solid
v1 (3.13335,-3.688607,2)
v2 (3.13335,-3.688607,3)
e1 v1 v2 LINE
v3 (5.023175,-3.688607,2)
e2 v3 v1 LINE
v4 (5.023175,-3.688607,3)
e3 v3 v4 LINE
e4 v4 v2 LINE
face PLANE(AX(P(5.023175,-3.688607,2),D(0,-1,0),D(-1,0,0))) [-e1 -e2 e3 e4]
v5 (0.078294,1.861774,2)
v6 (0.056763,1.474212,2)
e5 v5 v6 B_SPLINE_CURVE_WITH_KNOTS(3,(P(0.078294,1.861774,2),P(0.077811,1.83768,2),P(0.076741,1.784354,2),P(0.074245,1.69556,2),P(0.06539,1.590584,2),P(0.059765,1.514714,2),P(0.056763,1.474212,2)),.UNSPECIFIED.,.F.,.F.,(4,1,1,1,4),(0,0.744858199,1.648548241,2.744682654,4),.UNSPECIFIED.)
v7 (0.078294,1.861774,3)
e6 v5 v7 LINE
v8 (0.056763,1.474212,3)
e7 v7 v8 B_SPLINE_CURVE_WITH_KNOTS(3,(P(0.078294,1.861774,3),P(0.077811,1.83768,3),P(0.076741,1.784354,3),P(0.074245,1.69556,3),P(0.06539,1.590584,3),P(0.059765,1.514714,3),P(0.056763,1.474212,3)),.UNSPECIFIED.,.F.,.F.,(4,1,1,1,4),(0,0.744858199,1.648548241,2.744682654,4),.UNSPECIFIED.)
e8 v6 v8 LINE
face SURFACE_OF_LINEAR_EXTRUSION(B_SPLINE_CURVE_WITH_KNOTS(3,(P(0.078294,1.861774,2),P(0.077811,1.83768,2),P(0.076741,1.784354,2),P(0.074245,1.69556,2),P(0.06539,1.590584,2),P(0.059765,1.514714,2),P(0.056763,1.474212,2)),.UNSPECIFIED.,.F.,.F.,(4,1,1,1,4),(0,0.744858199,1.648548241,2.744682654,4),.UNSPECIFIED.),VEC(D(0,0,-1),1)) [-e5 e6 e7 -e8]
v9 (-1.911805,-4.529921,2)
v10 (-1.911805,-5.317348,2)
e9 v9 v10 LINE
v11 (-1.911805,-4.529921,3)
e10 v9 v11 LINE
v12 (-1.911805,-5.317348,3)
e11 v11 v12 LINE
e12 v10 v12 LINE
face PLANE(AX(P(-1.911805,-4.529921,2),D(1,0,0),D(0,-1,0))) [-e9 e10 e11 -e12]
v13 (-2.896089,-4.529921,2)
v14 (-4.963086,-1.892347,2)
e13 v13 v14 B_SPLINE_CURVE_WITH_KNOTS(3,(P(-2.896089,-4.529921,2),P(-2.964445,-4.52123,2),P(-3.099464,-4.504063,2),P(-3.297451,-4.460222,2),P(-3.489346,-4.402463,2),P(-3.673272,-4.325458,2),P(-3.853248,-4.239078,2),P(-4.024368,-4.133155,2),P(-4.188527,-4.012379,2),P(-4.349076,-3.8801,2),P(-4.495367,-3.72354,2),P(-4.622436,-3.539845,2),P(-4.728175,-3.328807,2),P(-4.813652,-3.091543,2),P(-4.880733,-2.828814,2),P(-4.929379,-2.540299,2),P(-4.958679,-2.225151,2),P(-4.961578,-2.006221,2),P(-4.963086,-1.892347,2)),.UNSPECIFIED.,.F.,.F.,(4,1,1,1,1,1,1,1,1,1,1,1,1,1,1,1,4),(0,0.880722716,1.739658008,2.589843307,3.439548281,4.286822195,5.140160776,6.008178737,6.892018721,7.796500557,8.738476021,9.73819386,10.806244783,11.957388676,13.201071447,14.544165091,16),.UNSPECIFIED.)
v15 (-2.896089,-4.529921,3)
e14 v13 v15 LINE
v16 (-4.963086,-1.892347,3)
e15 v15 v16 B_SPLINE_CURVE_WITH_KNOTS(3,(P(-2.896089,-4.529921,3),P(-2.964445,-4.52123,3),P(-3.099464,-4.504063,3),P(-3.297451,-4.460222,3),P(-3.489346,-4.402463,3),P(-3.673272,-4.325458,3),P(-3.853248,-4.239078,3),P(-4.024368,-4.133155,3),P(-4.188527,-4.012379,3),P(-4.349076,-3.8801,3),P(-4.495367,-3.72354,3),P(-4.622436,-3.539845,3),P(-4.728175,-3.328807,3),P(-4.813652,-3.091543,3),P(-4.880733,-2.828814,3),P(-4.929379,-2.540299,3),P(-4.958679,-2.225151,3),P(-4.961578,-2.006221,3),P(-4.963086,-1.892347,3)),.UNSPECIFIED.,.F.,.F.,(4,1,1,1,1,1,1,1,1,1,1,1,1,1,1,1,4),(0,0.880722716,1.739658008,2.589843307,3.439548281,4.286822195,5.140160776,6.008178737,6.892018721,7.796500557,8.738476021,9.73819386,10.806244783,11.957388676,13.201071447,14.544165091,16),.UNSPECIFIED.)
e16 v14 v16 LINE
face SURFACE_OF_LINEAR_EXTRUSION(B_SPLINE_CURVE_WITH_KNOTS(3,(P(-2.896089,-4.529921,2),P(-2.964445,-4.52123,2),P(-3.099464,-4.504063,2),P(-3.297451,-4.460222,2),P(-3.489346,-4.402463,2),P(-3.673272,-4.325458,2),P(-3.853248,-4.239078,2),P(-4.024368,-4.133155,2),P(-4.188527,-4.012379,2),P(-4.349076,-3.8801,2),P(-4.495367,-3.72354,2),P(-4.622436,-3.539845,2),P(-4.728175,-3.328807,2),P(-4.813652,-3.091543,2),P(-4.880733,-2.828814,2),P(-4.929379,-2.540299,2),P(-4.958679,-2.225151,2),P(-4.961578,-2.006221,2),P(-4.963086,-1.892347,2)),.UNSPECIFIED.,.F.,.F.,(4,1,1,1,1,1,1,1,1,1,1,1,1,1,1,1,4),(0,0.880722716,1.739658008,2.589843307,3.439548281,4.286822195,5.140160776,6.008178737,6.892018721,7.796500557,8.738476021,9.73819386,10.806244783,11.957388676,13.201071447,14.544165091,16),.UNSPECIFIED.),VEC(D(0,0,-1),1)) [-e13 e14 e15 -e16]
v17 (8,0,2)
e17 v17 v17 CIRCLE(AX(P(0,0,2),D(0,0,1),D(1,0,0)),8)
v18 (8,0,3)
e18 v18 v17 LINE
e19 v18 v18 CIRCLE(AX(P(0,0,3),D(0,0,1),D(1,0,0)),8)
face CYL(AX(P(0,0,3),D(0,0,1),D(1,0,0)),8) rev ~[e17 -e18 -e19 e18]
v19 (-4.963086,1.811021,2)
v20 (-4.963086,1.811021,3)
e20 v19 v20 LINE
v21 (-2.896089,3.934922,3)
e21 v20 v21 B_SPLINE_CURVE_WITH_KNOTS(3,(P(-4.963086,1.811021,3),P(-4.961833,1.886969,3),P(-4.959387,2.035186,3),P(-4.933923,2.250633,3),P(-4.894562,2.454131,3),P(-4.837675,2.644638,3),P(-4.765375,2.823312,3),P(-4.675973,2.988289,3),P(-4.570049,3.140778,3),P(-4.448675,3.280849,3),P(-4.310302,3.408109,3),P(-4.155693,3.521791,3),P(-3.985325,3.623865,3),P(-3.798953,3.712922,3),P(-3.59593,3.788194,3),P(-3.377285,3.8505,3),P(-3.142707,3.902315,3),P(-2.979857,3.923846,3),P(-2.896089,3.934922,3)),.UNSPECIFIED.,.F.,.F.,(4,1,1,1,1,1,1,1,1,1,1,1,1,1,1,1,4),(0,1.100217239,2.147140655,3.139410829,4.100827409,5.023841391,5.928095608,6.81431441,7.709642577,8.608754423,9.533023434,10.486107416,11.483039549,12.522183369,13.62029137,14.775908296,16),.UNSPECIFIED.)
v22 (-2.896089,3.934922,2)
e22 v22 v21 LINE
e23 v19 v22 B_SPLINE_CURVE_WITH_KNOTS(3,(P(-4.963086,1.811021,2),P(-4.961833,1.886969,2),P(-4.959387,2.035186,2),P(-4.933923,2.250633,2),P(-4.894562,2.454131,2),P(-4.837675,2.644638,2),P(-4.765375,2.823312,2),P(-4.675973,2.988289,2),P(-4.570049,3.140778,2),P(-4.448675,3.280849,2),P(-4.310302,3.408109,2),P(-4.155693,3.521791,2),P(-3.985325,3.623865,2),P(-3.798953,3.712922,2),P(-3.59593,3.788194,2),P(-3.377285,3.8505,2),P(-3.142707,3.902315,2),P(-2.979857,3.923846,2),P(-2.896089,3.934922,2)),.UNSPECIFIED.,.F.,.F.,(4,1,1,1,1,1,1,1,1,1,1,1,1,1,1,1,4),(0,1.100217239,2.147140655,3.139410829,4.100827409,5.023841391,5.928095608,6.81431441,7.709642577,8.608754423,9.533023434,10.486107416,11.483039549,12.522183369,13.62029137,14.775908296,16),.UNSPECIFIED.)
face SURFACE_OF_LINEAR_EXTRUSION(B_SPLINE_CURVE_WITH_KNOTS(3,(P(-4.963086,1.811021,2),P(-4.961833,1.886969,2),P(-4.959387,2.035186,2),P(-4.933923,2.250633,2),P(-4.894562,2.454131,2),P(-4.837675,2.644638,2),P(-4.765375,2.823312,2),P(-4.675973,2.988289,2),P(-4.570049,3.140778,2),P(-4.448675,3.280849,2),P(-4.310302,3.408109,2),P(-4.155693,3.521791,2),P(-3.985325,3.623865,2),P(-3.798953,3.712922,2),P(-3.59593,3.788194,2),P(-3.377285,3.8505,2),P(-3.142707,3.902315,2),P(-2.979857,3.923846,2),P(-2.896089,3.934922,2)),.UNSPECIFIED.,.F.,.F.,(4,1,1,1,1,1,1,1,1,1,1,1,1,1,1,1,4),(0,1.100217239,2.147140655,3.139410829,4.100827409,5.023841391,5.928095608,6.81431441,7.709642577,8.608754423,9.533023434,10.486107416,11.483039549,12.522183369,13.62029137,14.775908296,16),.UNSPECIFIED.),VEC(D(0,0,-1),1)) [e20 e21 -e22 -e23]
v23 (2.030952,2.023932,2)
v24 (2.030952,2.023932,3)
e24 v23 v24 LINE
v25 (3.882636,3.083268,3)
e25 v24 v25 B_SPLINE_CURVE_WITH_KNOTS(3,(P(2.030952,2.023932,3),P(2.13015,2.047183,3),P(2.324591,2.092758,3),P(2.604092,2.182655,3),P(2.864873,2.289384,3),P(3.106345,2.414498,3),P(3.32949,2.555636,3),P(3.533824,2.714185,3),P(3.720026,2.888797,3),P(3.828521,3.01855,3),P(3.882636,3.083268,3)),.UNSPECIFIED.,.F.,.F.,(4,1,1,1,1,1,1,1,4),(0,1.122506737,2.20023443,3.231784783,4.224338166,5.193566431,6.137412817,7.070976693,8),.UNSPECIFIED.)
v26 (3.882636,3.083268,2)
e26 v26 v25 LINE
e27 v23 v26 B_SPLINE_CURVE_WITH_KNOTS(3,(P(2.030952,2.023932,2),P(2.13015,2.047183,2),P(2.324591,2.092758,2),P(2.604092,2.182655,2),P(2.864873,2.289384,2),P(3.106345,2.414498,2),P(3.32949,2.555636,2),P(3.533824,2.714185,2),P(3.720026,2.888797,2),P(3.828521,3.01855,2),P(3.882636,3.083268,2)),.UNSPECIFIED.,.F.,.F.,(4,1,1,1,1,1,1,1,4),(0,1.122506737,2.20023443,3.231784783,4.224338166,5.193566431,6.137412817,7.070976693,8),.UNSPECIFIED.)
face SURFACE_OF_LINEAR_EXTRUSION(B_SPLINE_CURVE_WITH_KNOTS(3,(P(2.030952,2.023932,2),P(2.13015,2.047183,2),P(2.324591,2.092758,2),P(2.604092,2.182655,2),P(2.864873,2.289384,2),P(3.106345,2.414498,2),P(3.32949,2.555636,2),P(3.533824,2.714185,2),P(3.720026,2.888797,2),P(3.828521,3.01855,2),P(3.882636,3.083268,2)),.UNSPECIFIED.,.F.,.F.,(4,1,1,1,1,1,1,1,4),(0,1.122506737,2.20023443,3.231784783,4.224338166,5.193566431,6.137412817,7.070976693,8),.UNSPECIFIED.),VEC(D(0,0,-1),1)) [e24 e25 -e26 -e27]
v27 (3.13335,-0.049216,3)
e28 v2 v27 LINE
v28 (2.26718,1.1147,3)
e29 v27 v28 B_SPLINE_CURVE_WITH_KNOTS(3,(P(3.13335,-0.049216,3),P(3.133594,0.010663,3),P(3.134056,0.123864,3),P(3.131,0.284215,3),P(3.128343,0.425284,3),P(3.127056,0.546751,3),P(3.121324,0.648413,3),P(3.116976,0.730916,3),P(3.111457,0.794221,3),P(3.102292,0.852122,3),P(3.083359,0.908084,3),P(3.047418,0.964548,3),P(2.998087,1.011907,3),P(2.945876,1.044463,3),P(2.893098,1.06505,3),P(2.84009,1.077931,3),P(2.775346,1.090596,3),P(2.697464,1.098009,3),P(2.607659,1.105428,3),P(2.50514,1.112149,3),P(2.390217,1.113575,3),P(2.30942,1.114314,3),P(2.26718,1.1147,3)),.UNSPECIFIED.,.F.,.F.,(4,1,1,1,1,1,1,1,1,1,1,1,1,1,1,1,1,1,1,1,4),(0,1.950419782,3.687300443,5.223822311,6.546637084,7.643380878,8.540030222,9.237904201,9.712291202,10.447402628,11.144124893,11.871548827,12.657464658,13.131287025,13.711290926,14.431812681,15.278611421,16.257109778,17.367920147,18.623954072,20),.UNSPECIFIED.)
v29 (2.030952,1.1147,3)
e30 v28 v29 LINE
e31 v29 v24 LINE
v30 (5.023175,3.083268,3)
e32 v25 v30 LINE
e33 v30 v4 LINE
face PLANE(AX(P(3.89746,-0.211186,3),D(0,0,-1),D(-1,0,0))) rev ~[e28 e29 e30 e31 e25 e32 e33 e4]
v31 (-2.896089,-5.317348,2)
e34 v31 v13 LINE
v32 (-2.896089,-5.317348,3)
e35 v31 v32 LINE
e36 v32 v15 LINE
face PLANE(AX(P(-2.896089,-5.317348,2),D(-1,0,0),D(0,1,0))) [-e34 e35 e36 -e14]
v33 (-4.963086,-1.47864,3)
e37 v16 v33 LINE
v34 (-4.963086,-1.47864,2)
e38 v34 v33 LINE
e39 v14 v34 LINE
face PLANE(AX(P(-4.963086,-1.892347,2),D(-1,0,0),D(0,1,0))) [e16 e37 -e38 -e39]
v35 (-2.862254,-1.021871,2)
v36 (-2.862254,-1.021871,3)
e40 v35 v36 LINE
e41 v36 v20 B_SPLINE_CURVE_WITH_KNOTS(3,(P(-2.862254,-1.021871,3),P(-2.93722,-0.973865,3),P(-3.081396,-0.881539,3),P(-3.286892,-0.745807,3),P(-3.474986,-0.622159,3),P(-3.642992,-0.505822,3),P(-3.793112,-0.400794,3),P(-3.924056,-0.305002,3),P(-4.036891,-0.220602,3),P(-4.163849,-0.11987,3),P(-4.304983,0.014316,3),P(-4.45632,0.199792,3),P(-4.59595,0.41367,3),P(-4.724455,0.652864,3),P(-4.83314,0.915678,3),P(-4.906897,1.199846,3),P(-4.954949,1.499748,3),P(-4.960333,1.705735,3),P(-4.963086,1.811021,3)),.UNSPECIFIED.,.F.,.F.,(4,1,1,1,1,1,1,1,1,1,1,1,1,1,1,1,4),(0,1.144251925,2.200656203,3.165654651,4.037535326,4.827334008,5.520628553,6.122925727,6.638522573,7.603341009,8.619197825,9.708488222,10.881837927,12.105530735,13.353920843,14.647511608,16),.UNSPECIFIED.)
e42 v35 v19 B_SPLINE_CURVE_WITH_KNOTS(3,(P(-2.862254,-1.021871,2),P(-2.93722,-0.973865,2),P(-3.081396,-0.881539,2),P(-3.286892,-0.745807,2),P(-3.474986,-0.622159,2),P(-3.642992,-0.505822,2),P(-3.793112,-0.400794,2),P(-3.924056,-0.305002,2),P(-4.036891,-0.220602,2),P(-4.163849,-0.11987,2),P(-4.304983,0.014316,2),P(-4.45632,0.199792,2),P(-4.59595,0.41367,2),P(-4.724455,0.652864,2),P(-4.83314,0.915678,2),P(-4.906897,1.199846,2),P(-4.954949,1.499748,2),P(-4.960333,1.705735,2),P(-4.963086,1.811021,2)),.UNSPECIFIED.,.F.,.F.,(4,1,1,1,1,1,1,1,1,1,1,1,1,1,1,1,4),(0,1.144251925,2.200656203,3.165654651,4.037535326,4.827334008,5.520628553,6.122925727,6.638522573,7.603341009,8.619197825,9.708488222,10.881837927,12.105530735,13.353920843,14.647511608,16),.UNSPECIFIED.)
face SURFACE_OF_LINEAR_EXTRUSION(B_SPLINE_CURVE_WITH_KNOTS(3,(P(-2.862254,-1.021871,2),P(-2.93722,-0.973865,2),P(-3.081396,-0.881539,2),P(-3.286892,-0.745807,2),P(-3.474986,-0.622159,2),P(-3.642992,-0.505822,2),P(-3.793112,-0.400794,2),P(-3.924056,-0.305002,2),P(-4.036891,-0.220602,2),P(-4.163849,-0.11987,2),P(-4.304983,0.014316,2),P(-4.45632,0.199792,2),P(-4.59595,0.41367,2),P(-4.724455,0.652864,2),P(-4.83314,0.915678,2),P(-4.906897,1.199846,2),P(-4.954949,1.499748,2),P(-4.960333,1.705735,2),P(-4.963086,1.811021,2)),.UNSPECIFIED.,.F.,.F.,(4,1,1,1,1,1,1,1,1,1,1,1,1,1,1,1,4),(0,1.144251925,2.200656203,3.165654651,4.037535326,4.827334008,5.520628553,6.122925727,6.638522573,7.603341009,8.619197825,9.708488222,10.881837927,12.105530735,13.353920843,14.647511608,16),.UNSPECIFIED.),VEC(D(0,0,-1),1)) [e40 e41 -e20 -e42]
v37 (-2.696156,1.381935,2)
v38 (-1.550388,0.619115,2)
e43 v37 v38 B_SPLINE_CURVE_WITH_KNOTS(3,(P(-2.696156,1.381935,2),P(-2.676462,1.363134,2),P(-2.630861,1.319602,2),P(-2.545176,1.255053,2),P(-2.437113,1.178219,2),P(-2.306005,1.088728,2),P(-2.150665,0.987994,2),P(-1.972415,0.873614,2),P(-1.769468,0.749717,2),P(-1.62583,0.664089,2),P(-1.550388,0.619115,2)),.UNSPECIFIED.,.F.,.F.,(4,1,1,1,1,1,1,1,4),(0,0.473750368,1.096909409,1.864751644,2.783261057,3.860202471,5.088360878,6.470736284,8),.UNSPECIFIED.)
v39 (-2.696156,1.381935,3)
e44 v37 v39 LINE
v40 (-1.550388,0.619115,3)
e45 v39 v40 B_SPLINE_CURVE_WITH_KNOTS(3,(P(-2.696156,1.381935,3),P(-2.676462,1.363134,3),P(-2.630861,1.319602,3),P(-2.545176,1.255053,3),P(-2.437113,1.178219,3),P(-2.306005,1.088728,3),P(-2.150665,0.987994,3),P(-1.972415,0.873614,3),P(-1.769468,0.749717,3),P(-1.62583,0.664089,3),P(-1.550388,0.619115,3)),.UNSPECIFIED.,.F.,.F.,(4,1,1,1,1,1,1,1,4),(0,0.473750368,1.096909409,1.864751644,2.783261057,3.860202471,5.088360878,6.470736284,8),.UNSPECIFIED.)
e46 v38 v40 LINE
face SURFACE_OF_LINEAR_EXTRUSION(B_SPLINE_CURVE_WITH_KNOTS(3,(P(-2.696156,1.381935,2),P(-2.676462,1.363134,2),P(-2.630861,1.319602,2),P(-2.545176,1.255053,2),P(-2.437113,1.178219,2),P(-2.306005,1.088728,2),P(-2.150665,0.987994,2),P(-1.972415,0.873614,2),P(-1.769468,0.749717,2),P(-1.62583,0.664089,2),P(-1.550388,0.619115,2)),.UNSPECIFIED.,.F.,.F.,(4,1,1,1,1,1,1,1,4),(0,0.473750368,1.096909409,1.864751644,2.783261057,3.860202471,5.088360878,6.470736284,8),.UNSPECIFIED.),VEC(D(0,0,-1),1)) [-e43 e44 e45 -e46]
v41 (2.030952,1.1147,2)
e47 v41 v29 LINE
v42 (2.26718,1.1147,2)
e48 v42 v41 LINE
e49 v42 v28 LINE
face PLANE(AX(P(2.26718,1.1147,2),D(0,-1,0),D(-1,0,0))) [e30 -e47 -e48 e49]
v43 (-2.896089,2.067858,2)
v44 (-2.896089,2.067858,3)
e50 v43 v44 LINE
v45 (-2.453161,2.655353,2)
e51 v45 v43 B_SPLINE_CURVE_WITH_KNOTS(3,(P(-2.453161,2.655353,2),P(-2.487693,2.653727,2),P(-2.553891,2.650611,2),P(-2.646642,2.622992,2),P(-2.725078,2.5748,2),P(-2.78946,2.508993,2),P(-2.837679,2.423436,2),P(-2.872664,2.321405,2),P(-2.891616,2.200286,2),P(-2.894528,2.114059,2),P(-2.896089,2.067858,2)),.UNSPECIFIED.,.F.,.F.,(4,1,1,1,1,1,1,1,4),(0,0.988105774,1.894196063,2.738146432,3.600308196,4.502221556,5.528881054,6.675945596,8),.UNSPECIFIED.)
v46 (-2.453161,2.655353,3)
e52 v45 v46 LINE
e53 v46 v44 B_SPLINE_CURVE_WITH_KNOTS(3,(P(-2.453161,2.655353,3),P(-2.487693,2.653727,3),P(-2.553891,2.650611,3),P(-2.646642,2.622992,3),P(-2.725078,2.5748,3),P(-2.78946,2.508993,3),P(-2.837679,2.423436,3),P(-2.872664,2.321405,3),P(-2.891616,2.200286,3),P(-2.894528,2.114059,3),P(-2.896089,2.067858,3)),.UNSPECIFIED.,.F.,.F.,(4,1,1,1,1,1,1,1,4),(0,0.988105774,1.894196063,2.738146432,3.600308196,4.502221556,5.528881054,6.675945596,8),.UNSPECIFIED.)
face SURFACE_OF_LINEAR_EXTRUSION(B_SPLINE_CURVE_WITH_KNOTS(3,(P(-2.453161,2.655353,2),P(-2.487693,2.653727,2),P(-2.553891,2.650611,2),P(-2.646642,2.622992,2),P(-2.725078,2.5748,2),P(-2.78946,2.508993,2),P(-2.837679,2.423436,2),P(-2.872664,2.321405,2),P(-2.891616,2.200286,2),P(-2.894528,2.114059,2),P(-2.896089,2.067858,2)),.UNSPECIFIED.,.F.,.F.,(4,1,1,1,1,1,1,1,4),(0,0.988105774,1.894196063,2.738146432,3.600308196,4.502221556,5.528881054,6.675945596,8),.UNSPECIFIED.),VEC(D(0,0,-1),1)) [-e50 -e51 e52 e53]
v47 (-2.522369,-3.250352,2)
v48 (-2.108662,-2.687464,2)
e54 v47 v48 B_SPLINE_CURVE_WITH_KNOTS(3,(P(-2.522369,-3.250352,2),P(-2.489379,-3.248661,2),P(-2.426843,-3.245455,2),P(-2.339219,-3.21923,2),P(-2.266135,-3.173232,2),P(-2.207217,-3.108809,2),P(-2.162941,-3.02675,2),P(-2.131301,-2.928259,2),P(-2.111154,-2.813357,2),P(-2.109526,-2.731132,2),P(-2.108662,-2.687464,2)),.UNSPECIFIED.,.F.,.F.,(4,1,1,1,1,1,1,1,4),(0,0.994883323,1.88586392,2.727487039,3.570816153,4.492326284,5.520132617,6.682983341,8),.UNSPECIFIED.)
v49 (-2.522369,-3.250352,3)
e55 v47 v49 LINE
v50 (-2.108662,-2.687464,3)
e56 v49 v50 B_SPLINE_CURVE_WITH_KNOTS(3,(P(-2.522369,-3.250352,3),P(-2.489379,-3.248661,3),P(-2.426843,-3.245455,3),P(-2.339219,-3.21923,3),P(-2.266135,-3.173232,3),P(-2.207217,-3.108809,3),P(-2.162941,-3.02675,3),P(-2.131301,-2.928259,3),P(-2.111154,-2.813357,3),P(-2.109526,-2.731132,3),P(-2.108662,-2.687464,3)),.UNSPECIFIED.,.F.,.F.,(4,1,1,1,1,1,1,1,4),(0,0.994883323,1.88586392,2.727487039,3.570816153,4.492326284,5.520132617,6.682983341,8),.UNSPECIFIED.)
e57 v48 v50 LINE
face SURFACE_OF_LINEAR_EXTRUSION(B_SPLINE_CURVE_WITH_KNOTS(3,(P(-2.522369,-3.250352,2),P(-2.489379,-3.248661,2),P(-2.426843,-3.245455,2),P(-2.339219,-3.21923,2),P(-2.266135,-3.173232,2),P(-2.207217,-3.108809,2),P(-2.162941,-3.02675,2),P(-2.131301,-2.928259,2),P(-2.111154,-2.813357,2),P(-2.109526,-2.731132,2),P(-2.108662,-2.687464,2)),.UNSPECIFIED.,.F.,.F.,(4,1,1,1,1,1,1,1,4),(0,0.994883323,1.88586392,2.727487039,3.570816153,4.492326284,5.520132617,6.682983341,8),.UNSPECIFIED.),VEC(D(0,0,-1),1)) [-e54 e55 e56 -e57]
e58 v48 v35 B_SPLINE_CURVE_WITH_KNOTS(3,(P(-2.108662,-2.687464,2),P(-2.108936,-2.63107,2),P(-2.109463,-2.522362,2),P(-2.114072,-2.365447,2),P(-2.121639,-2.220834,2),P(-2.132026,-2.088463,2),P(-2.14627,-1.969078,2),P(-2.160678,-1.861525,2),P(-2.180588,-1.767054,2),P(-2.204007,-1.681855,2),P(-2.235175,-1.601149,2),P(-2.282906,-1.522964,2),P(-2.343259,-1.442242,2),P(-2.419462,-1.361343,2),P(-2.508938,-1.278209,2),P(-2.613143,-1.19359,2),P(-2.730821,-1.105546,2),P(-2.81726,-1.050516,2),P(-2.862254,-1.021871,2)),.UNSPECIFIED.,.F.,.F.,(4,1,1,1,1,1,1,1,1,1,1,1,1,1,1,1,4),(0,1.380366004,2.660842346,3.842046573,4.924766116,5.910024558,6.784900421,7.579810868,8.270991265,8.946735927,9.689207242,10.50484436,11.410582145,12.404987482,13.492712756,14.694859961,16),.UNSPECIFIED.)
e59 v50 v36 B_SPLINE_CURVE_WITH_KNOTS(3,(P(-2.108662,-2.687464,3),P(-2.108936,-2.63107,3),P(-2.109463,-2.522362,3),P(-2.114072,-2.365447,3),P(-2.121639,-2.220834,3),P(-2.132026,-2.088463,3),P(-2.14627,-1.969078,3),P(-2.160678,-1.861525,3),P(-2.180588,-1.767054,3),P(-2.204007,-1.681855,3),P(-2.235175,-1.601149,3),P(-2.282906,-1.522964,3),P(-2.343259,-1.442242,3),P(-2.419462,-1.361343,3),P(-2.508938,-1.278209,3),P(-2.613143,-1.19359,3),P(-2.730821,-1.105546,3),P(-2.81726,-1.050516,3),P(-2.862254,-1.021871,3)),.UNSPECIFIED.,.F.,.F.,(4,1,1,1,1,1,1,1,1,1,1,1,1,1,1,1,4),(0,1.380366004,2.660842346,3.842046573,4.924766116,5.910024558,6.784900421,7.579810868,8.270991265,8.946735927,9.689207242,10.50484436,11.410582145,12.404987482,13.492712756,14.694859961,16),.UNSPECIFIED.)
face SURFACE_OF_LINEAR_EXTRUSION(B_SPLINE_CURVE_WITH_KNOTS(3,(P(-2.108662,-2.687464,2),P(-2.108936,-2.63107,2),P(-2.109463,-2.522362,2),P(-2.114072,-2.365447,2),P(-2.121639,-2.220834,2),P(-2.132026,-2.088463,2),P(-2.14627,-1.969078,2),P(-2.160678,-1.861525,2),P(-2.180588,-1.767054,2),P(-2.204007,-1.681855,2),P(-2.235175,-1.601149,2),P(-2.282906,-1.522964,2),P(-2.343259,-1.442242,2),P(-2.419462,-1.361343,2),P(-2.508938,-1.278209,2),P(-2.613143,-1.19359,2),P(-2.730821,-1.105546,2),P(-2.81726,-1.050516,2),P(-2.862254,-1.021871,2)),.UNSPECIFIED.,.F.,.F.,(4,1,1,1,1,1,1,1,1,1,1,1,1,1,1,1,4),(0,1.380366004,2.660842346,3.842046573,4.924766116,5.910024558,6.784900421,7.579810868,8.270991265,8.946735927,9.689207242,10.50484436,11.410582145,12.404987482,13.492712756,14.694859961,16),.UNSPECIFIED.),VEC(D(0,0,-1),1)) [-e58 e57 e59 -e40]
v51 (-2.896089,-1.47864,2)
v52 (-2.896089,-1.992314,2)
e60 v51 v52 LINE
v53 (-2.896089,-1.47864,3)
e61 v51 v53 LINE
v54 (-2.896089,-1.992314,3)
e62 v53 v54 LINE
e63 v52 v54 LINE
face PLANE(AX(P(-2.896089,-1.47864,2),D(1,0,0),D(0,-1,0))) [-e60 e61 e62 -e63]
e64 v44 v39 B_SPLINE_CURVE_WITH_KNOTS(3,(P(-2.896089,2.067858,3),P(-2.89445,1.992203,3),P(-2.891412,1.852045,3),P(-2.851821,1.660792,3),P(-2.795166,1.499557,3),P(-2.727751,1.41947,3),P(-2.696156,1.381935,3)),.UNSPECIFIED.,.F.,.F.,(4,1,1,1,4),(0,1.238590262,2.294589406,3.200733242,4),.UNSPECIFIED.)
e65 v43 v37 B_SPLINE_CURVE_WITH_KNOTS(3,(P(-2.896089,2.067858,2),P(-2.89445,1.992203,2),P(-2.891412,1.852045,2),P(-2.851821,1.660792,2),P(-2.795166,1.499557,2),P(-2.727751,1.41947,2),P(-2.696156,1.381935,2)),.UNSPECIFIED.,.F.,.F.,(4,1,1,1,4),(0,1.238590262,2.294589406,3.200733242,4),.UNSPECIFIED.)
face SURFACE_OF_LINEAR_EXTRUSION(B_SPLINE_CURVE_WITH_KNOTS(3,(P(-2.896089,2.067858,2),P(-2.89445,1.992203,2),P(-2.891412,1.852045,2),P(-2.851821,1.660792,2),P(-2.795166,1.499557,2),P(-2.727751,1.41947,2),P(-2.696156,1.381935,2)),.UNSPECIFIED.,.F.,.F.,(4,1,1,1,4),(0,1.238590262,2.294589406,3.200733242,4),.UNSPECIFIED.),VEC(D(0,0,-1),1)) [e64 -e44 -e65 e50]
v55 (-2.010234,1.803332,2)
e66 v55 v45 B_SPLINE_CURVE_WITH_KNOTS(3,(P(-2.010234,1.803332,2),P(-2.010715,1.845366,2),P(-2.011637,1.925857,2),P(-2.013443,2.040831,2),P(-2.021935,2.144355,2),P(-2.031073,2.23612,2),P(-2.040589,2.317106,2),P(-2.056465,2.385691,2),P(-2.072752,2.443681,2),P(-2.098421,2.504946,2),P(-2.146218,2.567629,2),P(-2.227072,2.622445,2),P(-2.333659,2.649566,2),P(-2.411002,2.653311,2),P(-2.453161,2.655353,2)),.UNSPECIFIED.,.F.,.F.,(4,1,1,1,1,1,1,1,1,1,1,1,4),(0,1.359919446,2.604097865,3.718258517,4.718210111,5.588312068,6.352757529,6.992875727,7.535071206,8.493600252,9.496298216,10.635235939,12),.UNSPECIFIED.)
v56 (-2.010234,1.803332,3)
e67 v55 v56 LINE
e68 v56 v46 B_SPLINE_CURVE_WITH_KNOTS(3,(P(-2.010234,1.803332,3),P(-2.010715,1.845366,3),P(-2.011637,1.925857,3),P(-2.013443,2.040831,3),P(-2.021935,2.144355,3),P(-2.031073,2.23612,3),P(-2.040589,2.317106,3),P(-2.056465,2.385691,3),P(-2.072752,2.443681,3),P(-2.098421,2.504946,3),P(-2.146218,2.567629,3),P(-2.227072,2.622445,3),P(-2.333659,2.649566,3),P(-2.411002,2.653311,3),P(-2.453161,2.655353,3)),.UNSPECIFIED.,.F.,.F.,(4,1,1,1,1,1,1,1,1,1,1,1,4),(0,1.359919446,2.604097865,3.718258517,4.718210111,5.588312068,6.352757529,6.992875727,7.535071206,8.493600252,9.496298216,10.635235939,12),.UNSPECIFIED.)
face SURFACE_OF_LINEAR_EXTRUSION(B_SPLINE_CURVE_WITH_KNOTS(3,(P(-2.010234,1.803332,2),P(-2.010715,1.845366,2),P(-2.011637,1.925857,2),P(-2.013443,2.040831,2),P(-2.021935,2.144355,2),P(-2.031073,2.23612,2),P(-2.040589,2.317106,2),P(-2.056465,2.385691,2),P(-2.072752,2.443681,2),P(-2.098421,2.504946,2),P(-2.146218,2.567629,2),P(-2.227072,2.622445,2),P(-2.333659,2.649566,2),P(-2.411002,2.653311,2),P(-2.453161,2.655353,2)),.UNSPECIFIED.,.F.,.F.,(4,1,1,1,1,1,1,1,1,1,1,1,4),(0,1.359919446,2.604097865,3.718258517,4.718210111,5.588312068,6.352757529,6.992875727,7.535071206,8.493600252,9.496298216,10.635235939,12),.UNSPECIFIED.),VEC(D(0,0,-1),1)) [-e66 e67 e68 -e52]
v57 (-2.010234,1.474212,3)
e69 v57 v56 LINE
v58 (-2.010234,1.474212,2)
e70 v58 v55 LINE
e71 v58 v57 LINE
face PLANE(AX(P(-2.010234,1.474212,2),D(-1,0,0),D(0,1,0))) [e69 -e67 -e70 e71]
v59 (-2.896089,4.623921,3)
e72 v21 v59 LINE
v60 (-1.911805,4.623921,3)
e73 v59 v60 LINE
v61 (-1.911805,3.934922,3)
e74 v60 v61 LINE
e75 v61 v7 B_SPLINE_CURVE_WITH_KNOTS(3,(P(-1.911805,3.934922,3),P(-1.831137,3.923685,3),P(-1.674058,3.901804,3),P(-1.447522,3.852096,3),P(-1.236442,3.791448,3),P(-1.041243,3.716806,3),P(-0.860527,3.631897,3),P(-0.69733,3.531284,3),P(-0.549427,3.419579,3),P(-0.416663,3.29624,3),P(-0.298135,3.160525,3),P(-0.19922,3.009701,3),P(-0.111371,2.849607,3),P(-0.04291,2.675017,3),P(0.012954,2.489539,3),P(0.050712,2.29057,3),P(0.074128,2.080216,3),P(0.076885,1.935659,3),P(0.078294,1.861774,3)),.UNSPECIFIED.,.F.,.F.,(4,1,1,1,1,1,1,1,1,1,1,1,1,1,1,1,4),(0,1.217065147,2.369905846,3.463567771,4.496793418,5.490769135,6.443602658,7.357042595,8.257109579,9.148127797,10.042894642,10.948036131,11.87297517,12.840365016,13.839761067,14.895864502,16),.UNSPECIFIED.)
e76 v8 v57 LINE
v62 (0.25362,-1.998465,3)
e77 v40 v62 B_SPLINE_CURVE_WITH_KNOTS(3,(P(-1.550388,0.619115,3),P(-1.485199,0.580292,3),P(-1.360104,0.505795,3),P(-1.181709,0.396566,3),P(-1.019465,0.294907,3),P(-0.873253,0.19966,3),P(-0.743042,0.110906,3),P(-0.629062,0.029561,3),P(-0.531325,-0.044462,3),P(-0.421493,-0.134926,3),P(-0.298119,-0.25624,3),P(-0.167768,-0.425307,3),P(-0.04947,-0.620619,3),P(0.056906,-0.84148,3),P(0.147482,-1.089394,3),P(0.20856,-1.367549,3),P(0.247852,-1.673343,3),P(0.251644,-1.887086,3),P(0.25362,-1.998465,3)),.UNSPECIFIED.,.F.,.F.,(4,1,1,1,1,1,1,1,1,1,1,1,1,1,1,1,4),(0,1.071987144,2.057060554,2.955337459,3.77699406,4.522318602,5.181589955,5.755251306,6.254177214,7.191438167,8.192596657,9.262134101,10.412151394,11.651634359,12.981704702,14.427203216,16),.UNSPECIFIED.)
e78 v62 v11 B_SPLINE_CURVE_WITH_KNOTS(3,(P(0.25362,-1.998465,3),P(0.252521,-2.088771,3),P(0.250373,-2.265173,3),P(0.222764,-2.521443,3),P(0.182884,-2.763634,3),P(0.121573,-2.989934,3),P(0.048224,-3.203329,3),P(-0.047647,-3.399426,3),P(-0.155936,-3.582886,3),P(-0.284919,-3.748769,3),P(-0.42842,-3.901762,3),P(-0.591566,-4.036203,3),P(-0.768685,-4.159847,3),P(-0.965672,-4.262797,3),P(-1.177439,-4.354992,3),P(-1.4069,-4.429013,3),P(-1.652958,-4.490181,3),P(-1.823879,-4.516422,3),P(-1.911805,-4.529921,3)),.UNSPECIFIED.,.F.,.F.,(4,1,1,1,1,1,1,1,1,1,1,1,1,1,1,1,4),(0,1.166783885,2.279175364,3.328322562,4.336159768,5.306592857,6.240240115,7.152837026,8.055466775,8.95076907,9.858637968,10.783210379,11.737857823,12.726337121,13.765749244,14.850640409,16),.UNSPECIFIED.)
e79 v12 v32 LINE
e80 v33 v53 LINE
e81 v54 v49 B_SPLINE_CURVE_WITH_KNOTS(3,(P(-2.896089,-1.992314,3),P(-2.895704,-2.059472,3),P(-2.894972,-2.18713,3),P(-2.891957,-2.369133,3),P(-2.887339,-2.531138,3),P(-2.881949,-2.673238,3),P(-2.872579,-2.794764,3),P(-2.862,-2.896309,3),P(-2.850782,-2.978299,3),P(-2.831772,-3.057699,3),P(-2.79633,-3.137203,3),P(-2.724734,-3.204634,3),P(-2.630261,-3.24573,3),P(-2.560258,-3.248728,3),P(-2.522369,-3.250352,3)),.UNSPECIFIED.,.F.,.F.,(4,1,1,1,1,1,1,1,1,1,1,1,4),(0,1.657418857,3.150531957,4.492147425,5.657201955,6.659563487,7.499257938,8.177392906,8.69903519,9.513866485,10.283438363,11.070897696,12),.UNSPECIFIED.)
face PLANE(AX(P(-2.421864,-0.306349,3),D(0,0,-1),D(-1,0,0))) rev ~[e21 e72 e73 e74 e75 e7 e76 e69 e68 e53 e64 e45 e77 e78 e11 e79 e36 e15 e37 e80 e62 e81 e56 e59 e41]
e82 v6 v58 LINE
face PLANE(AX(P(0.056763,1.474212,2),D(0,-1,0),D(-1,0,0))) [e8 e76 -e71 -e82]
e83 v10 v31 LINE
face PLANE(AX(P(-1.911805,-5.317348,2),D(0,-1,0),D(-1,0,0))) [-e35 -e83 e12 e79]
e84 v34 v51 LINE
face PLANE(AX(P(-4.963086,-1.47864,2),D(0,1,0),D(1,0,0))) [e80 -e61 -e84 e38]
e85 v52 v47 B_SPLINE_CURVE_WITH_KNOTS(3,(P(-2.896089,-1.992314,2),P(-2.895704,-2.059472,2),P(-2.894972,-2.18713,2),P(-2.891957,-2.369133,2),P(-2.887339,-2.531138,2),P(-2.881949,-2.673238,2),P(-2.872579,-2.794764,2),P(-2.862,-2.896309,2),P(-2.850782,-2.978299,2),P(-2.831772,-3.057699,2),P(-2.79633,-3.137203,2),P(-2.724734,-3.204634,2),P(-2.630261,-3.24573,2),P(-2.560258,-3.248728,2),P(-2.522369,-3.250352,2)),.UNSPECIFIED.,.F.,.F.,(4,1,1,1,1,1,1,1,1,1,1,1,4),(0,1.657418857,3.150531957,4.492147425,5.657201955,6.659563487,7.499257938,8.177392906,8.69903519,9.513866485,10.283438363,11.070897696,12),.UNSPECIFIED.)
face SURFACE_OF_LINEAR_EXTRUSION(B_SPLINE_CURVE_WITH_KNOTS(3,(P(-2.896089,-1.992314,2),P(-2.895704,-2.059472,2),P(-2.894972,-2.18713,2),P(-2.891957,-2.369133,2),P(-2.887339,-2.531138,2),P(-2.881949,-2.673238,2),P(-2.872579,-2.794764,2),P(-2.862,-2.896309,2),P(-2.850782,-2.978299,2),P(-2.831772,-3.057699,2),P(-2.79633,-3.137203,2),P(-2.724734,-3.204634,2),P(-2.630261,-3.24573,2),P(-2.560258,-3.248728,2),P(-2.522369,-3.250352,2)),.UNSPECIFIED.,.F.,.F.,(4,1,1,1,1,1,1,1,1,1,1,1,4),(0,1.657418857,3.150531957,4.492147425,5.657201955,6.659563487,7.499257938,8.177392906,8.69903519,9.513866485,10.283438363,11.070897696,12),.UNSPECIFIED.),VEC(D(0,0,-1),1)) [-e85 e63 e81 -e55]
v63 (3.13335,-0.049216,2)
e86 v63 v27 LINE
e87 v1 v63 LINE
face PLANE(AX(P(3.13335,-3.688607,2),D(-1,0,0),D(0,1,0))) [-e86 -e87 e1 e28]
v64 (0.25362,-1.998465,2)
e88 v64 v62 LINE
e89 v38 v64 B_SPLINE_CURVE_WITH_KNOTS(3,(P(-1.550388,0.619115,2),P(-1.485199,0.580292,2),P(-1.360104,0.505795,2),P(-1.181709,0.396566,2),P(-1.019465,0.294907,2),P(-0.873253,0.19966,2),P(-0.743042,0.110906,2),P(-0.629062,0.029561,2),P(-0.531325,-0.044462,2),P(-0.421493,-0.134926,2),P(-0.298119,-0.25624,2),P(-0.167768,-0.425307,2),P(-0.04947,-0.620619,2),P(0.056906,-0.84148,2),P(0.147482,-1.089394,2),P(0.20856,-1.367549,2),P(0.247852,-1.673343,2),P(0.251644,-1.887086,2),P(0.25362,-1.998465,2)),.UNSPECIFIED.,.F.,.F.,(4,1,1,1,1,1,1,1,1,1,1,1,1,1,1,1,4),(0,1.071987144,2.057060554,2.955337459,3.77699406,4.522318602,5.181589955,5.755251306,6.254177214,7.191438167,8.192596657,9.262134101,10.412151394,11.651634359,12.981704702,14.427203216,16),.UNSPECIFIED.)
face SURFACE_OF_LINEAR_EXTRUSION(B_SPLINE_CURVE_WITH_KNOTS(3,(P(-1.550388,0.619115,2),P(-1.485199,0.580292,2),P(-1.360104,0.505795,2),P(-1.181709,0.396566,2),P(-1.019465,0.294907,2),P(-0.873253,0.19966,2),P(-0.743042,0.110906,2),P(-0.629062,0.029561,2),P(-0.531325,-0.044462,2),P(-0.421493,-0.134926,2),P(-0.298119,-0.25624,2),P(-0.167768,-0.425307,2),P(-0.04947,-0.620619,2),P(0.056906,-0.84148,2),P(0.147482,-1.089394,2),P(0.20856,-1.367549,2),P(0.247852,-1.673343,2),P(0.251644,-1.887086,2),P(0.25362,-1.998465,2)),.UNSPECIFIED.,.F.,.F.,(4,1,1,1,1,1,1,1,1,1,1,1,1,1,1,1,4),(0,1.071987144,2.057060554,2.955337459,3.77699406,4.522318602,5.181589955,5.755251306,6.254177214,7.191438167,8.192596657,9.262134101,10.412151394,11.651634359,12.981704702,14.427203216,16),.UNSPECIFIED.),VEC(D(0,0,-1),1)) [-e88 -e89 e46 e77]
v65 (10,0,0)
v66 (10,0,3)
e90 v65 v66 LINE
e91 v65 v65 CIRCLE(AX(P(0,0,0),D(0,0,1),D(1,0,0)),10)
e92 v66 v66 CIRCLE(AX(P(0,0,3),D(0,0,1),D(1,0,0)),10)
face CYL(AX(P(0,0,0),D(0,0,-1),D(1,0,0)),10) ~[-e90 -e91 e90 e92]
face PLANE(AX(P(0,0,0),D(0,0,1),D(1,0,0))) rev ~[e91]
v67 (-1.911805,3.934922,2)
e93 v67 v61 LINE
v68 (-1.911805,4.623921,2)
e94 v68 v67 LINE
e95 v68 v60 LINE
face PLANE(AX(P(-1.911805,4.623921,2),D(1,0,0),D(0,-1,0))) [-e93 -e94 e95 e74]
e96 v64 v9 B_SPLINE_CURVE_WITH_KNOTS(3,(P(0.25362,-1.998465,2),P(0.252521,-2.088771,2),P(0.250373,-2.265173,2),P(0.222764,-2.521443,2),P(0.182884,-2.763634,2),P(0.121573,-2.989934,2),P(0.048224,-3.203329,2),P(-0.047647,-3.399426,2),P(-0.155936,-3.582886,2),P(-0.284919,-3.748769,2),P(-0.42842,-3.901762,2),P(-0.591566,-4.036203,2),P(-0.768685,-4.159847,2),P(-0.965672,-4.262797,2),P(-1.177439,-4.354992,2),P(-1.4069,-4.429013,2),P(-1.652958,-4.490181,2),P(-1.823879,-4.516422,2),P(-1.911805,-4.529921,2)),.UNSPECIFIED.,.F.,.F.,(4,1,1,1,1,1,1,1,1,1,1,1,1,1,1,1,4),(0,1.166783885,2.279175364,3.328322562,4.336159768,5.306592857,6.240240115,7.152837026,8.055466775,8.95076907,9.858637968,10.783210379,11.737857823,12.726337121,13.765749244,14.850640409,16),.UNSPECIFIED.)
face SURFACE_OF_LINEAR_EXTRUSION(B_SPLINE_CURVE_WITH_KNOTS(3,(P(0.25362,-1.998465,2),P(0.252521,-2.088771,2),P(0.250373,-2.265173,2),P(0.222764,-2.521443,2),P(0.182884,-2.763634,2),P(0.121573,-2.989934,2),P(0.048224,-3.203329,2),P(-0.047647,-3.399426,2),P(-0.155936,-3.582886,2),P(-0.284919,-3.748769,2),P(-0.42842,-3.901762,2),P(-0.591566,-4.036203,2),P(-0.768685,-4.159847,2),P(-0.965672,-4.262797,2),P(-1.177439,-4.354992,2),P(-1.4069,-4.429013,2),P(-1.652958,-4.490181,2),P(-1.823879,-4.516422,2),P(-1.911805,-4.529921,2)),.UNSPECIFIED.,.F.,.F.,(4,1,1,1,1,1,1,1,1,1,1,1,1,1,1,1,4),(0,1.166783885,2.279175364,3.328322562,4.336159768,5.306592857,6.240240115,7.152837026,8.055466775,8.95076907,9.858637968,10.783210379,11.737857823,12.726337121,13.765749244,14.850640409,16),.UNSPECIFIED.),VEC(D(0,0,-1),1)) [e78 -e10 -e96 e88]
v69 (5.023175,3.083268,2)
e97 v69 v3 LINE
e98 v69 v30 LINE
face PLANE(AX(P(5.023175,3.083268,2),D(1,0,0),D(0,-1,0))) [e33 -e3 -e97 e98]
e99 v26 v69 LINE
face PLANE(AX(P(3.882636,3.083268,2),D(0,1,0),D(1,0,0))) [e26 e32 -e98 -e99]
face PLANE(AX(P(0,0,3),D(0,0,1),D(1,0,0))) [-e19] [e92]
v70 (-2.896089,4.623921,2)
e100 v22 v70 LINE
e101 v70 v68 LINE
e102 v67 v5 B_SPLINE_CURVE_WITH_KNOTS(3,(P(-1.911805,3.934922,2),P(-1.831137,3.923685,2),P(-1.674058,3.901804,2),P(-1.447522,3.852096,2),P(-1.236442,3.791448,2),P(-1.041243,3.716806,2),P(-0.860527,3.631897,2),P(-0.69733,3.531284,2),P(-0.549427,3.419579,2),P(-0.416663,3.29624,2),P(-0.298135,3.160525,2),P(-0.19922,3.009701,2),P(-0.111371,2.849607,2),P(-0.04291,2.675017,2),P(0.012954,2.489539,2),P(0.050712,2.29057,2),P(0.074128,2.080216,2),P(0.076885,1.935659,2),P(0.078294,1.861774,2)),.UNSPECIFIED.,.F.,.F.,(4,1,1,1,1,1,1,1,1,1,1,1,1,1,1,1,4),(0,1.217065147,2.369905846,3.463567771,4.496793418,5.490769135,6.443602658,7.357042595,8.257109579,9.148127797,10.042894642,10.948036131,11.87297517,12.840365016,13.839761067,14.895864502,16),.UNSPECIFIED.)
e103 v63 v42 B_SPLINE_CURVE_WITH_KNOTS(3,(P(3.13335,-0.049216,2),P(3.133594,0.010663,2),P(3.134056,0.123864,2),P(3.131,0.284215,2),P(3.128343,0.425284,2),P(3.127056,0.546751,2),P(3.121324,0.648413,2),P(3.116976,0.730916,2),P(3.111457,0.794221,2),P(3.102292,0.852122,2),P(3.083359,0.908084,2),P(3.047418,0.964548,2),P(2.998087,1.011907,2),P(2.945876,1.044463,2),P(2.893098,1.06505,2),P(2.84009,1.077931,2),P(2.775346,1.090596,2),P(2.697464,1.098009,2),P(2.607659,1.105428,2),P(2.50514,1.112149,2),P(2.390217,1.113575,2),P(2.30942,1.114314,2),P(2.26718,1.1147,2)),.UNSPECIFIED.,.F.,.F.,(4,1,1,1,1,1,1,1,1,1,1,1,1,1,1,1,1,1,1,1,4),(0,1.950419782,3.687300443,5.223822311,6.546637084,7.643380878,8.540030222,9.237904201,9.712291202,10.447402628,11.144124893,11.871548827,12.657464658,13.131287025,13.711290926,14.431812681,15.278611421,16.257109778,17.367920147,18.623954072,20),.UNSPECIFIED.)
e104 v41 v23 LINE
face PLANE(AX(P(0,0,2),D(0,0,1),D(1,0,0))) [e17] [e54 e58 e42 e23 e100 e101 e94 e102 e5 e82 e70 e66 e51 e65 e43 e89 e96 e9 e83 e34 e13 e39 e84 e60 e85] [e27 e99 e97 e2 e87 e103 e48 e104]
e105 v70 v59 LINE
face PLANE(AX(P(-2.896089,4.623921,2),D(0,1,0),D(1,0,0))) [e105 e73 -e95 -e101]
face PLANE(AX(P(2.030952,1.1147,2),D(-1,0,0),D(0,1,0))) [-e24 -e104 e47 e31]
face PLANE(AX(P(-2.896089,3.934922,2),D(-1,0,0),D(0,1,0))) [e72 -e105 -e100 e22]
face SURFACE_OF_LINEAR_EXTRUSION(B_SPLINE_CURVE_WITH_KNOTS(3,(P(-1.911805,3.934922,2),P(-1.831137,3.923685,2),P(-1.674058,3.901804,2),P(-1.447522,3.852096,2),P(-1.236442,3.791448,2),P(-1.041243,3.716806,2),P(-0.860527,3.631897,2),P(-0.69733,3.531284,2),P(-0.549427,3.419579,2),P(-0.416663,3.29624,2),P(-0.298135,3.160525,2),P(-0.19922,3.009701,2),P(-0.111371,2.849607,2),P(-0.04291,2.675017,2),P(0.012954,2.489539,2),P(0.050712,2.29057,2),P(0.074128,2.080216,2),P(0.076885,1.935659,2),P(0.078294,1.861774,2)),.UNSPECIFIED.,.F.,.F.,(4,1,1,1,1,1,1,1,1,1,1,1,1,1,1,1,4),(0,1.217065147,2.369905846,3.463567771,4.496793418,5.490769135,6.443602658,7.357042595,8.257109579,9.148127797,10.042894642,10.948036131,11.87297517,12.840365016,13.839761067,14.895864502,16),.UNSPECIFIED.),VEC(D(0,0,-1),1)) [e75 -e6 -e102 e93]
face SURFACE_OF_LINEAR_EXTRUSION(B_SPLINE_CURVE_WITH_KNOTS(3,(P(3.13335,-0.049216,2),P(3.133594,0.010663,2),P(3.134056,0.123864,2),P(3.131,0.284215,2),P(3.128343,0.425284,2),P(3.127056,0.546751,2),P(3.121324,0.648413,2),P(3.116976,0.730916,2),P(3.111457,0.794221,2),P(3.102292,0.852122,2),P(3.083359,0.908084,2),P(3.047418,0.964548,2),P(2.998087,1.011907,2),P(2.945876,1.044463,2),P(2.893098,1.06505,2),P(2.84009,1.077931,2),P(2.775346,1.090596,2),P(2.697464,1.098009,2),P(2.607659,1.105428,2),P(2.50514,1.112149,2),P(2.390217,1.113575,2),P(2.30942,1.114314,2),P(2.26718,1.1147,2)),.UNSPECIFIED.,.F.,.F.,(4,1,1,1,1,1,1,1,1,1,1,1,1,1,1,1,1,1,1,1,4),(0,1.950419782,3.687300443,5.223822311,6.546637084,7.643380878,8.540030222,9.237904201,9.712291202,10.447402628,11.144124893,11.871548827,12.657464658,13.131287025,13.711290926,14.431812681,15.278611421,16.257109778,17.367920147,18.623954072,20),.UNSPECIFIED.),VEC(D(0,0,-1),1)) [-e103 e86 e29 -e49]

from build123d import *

# Parameters (mm, degrees)
SKETCH_1_R          = 10
EXTRUDE_1_DEPTH     = 3
SKETCH_2_R          = 8
CUT_EXTRUDE_1_DEPTH = 1
EXTRUDE_3_DEPTH     = 1


with BuildPart() as part:
    # 草图1 → 凸台-拉伸1 (new body)
    with BuildSketch(Plane.XY):
        Circle(SKETCH_1_R)
    extrude(amount=EXTRUDE_1_DEPTH)

    # 草图2 → 切除-拉伸1 (cut)
    with BuildSketch(Plane.XY.offset(3)):
        Circle(SKETCH_2_R)
    extrude(amount=-CUT_EXTRUDE_1_DEPTH, mode=Mode.SUBTRACT)

    # 草图4 → 凸台-拉伸3 (add)
    with BuildSketch(Plane.XY.offset(2)):
        with BuildLine():
            Line((0.056762987, 1.474211792), (-2.010233509, 1.474211792))
            Line((-2.010233509, 1.474211792), (-2.010233509, 1.80333177))
            add(Edge.make_bspline(
                [(-2.010233509, 1.80333177), (-2.010714949, 1.845366066), (-2.011636853, 1.925857174), (-2.013443384, 2.040830842), (-2.021934942, 2.144355468), (-2.031073109, 2.236120108), (-2.040588927, 2.31710552), (-2.056465146, 2.385691054), (-2.072751931, 2.443681195), (-2.098421022, 2.504945758), (-2.146218174, 2.567628601), (-2.227072107, 2.622444592), (-2.333658747, 2.649566324), (-2.411001767, 2.653311278), (-2.45316133, 2.655352647)],
                knots=[0, 0, 0, 0, 1.359919446, 2.604097865, 3.718258517, 4.718210111, 5.588312068, 6.352757529, 6.992875727, 7.535071206, 8.493600252, 9.496298216, 10.635235939, 12, 12, 12, 12], degree=3))
            add(Edge.make_bspline(
                [(-2.45316133, 2.655352647), (-2.48769324, 2.653727226), (-2.553890817, 2.650611298), (-2.646642148, 2.622991559), (-2.725077805, 2.574799662), (-2.789460033, 2.508992999), (-2.837678653, 2.423435949), (-2.872664288, 2.321405275), (-2.891615661, 2.200286181), (-2.894528446, 2.114059415), (-2.89608915, 2.067858107)],
                knots=[0, 0, 0, 0, 0.988105774, 1.894196063, 2.738146432, 3.600308196, 4.502221556, 5.528881054, 6.675945596, 8, 8, 8, 8], degree=3))
            add(Edge.make_bspline(
                [(-2.89608915, 2.067858107), (-2.894449613, 1.992202619), (-2.891412238, 1.85204466), (-2.851820774, 1.660792354), (-2.795166347, 1.499557252), (-2.727751468, 1.419469509), (-2.696156454, 1.381935163)],
                knots=[0, 0, 0, 0, 1.238590262, 2.294589406, 3.200733242, 4, 4, 4, 4], degree=3))
            add(Edge.make_bspline(
                [(-2.696156454, 1.381935163), (-2.676461776, 1.363134012), (-2.630861227, 1.319602312), (-2.545176258, 1.255053383), (-2.437113188, 1.178219265), (-2.306005051, 1.088728044), (-2.150665321, 0.987994219), (-1.972415244, 0.873613916), (-1.769467583, 0.749717147), (-1.625830171, 0.664089009), (-1.550388307, 0.619115027)],
                knots=[0, 0, 0, 0, 0.473750368, 1.096909409, 1.864751644, 2.783261057, 3.860202471, 5.088360878, 6.470736284, 8, 8, 8, 8], degree=3))
            add(Edge.make_bspline(
                [(-1.550388307, 0.619115027), (-1.485198527, 0.580292401), (-1.360104373, 0.505794778), (-1.181709189, 0.396565598), (-1.019465077, 0.294906955), (-0.873253022, 0.199660286), (-0.743042002, 0.110905609), (-0.629062244, 0.029561017), (-0.531324757, -0.044462306), (-0.421492641, -0.134926314), (-0.298119069, -0.256239512), (-0.16776821, -0.425307224), (-0.049470339, -0.620618928), (0.056905891, -0.841480009), (0.147481943, -1.089394), (0.208560212, -1.367548532), (0.2478522, -1.673343211), (0.251643957, -1.887086396), (0.253619796, -1.998465357)],
                knots=[0, 0, 0, 0, 1.071987144, 2.057060554, 2.955337459, 3.77699406, 4.522318602, 5.181589955, 5.755251306, 6.254177214, 7.191438167, 8.192596657, 9.262134101, 10.412151394, 11.651634359, 12.981704702, 14.427203216, 16, 16, 16, 16], degree=3))
            add(Edge.make_bspline(
                [(0.253619796, -1.998465357), (0.252520604, -2.088771103), (0.250373462, -2.265172779), (0.222764294, -2.521443005), (0.18288396, -2.763633873), (0.12157342, -2.989934303), (0.048224142, -3.203329396), (-0.04764749, -3.399426406), (-0.155935901, -3.582886354), (-0.284918565, -3.748769407), (-0.428419819, -3.901762054), (-0.591566185, -4.036202813), (-0.768685194, -4.159846558), (-0.965671944, -4.262796907), (-1.17743885, -4.354992249), (-1.406900356, -4.429013379), (-1.652957644, -4.490181019), (-1.823878665, -4.516421874), (-1.911805105, -4.529920886)],
                knots=[0, 0, 0, 0, 1.166783885, 2.279175364, 3.328322562, 4.336159768, 5.306592857, 6.240240115, 7.152837026, 8.055466775, 8.95076907, 9.858637968, 10.783210379, 11.737857823, 12.726337121, 13.765749244, 14.850640409, 16, 16, 16, 16], degree=3))
            Line((-1.911805105, -4.529920886), (-1.911805105, -5.317348123))
            Line((-1.911805105, -5.317348123), (-2.89608915, -5.317348123))
            Line((-2.89608915, -5.317348123), (-2.89608915, -4.529920886))
            add(Edge.make_bspline(
                [(-2.89608915, -4.529920886), (-2.964444513, -4.521229842), (-3.099464254, -4.504062754), (-3.297451441, -4.460222183), (-3.489345523, -4.402463406), (-3.673272398, -4.325457939), (-3.853248014, -4.239077881), (-4.024367639, -4.13315523), (-4.188527464, -4.012378649), (-4.349076156, -3.880100488), (-4.495366504, -3.723540065), (-4.622435632, -3.53984494), (-4.72817515, -3.328806901), (-4.813652178, -3.091543394), (-4.880733234, -2.828813828), (-4.929378662, -2.540298927), (-4.958678767, -2.225151111), (-4.961577762, -2.006221367), (-4.963085646, -1.892347233)],
                knots=[0, 0, 0, 0, 0.880722716, 1.739658008, 2.589843307, 3.439548281, 4.286822195, 5.140160776, 6.008178737, 6.892018721, 7.796500557, 8.738476021, 9.73819386, 10.806244783, 11.957388676, 13.201071447, 14.544165091, 16, 16, 16, 16], degree=3))
            Line((-4.963085646, -1.892347233), (-4.963085646, -1.478640345))
            Line((-4.963085646, -1.478640345), (-2.89608915, -1.478640345))
            Line((-2.89608915, -1.478640345), (-2.89608915, -1.992313581))
            add(Edge.make_bspline(
                [(-2.89608915, -1.992313581), (-2.895704026, -2.059471516), (-2.894971956, -2.187129782), (-2.891957149, -2.369133466), (-2.88733937, -2.53113795), (-2.881948967, -2.673237924), (-2.87257906, -2.794763684), (-2.861999559, -2.896309089), (-2.850782323, -2.978298671), (-2.831771987, -3.057698517), (-2.796329914, -3.13720338), (-2.724733914, -3.204634246), (-2.630260737, -3.245729545), (-2.560258212, -3.248728448), (-2.522368802, -3.250351627)],
                knots=[0, 0, 0, 0, 1.657418857, 3.150531957, 4.492147425, 5.657201955, 6.659563487, 7.499257938, 8.177392906, 8.69903519, 9.513866485, 10.283438363, 11.070897696, 12, 12, 12, 12], degree=3))
            add(Edge.make_bspline(
                [(-2.522368802, -3.250351627), (-2.489378542, -3.248660536), (-2.426843431, -3.245454967), (-2.339218716, -3.219229643), (-2.266135459, -3.173231759), (-2.207216552, -3.10880944), (-2.162940532, -3.026750233), (-2.13130144, -2.928258661), (-2.111154143, -2.813357435), (-2.109526388, -2.731132497), (-2.108661914, -2.687464189)],
                knots=[0, 0, 0, 0, 0.994883323, 1.88586392, 2.727487039, 3.570816153, 4.492326284, 5.520132617, 6.682983341, 8, 8, 8, 8], degree=3))
            add(Edge.make_bspline(
                [(-2.108661914, -2.687464189), (-2.108935574, -2.631069741), (-2.10946309, -2.52236181), (-2.114071505, -2.36544721), (-2.121638763, -2.220834196), (-2.132025717, -2.088463373), (-2.146270394, -1.969077806), (-2.160677831, -1.861524675), (-2.180587972, -1.767054101), (-2.204007286, -1.681855361), (-2.2351748, -1.60114895), (-2.282906179, -1.522964225), (-2.34325911, -1.442242229), (-2.419461819, -1.361342915), (-2.508937636, -1.278209236), (-2.613142538, -1.193590203), (-2.730821056, -1.105545843), (-2.817259718, -1.050516127), (-2.862254386, -1.02187103)],
                knots=[0, 0, 0, 0, 1.380366004, 2.660842346, 3.842046573, 4.924766116, 5.910024558, 6.784900421, 7.579810868, 8.270991265, 8.946735927, 9.689207242, 10.50484436, 11.410582145, 12.404987482, 13.492712756, 14.694859961, 16, 16, 16, 16], degree=3))
            add(Edge.make_bspline(
                [(-2.862254386, -1.02187103), (-2.937220205, -0.973865027), (-3.081396493, -0.881538587), (-3.286891769, -0.745807), (-3.474986034, -0.622159308), (-3.642992295, -0.505822423), (-3.79311186, -0.400793853), (-3.924056333, -0.305001794), (-4.036890963, -0.220601901), (-4.163849408, -0.119869901), (-4.304983023, 0.014315539), (-4.456319758, 0.199792286), (-4.595950479, 0.413669622), (-4.724454675, 0.652864388), (-4.833140109, 0.915678198), (-4.906897048, 1.199845959), (-4.95494887, 1.499747864), (-4.960333437, 1.705735293), (-4.963085646, 1.811021489)],
                knots=[0, 0, 0, 0, 1.144251925, 2.200656203, 3.165654651, 4.037535326, 4.827334008, 5.520628553, 6.122925727, 6.638522573, 7.603341009, 8.619197825, 9.708488222, 10.881837927, 12.105530735, 13.353920843, 14.647511608, 16, 16, 16, 16], degree=3))
            add(Edge.make_bspline(
                [(-4.963085646, 1.811021489), (-4.961832651, 1.886969132), (-4.959387355, 2.035185564), (-4.933923027, 2.250632635), (-4.894562266, 2.45413148), (-4.83767485, 2.644637628), (-4.765374936, 2.823312376), (-4.675972901, 2.98828905), (-4.570048913, 3.140778425), (-4.448675351, 3.280849467), (-4.310302398, 3.408108551), (-4.155692946, 3.521790754), (-3.985325259, 3.623865012), (-3.798953475, 3.712921544), (-3.595929506, 3.788193762), (-3.377284846, 3.850499543), (-3.14270702, 3.902314827), (-2.979857079, 3.92384636), (-2.89608915, 3.934921906)],
                knots=[0, 0, 0, 0, 1.100217239, 2.147140655, 3.139410829, 4.100827409, 5.023841391, 5.928095608, 6.81431441, 7.709642577, 8.608754423, 9.533023434, 10.486107416, 11.483039549, 12.522183369, 13.62029137, 14.775908296, 16, 16, 16, 16], degree=3))
            Line((-2.89608915, 3.934921906), (-2.89608915, 4.623920738))
            Line((-2.89608915, 4.623920738), (-1.911805105, 4.623920738))
            Line((-1.911805105, 4.623920738), (-1.911805105, 3.934921906))
            add(Edge.make_bspline(
                [(-1.911805105, 3.934921906), (-1.83113698, 3.923684787), (-1.674057582, 3.90180353), (-1.447521608, 3.852095654), (-1.236442357, 3.791447846), (-1.041243092, 3.71680636), (-0.860526928, 3.631897354), (-0.697329997, 3.531284043), (-0.5494265, 3.419578532), (-0.416662802, 3.296239572), (-0.298135254, 3.160524603), (-0.199220323, 3.009701153), (-0.111370998, 2.849607494), (-0.042910487, 2.675016965), (0.012954, 2.489539125), (0.050711945, 2.290569889), (0.074127815, 2.080216319), (0.07688497, 1.935659253), (0.0782942, 1.861773635)],
                knots=[0, 0, 0, 0, 1.217065147, 2.369905846, 3.463567771, 4.496793418, 5.490769135, 6.443602658, 7.357042595, 8.257109579, 9.148127797, 10.042894642, 10.948036131, 11.87297517, 12.840365016, 13.839761067, 14.895864502, 16, 16, 16, 16], degree=3))
            add(Edge.make_bspline(
                [(0.0782942, 1.861773635), (0.077810751, 1.837679646), (0.076740765, 1.784353921), (0.074244937, 1.695560092), (0.065389733, 1.590583694), (0.059765481, 1.514714431), (0.056762987, 1.474211792)],
                knots=[0, 0, 0, 0, 0.744858199, 1.648548241, 2.744682654, 4, 4, 4, 4], degree=3))
        make_face()
        with BuildLine():
            Line((5.023175077, 3.083267731), (5.023175077, -3.688606503))
            Line((5.023175077, -3.688606503), (3.133349709, -3.688606503))
            Line((3.133349709, -3.688606503), (3.133349709, -0.049216244))
            add(Edge.make_bspline(
                [(3.133349709, -0.049216244), (3.133593958, 0.010662586), (3.134055716, 0.123864492), (3.130999708, 0.284214806), (3.128343293, 0.425283899), (3.127055881, 0.546751118), (3.121323717, 0.64841284), (3.116976452, 0.730915963), (3.111457202, 0.794221383), (3.102291906, 0.852121983), (3.083359365, 0.90808358), (3.047418069, 0.964547564), (2.998087245, 1.01190667), (2.94587648, 1.044463224), (2.893097842, 1.065050405), (2.840089727, 1.077930703), (2.775346455, 1.090596163), (2.697463576, 1.098009477), (2.607659433, 1.105428465), (2.505139966, 1.112148942), (2.390217008, 1.113575298), (2.30942017, 1.114313637), (2.267179749, 1.11469964)],
                knots=[0, 0, 0, 0, 1.950419782, 3.687300443, 5.223822311, 6.546637084, 7.643380878, 8.540030222, 9.237904201, 9.712291202, 10.447402628, 11.144124893, 11.871548827, 12.657464658, 13.131287025, 13.711290926, 14.431812681, 15.278611421, 16.257109778, 17.367920147, 18.623954072, 20, 20, 20, 20], degree=3))
            Line((2.267179749, 1.11469964), (2.030951578, 1.11469964))
            Line((2.030951578, 1.11469964), (2.030951578, 2.023932027))
            add(Edge.make_bspline(
                [(2.030951578, 2.023932027), (2.130150393, 2.047183275), (2.324590782, 2.092758233), (2.604092231, 2.182654867), (2.864873324, 2.289383591), (3.106344693, 2.414498141), (3.329490435, 2.555636371), (3.533824466, 2.714185), (3.720026359, 2.888796928), (3.828520908, 3.018549566), (3.882635939, 3.083267731)],
                knots=[0, 0, 0, 0, 1.122506737, 2.20023443, 3.231784783, 4.224338166, 5.193566431, 6.137412817, 7.070976693, 8, 8, 8, 8], degree=3))
            Line((3.882635939, 3.083267731), (5.023175077, 3.083267731))
        make_face()
    extrude(amount=EXTRUDE_3_DEPTH)


solid = part.part
